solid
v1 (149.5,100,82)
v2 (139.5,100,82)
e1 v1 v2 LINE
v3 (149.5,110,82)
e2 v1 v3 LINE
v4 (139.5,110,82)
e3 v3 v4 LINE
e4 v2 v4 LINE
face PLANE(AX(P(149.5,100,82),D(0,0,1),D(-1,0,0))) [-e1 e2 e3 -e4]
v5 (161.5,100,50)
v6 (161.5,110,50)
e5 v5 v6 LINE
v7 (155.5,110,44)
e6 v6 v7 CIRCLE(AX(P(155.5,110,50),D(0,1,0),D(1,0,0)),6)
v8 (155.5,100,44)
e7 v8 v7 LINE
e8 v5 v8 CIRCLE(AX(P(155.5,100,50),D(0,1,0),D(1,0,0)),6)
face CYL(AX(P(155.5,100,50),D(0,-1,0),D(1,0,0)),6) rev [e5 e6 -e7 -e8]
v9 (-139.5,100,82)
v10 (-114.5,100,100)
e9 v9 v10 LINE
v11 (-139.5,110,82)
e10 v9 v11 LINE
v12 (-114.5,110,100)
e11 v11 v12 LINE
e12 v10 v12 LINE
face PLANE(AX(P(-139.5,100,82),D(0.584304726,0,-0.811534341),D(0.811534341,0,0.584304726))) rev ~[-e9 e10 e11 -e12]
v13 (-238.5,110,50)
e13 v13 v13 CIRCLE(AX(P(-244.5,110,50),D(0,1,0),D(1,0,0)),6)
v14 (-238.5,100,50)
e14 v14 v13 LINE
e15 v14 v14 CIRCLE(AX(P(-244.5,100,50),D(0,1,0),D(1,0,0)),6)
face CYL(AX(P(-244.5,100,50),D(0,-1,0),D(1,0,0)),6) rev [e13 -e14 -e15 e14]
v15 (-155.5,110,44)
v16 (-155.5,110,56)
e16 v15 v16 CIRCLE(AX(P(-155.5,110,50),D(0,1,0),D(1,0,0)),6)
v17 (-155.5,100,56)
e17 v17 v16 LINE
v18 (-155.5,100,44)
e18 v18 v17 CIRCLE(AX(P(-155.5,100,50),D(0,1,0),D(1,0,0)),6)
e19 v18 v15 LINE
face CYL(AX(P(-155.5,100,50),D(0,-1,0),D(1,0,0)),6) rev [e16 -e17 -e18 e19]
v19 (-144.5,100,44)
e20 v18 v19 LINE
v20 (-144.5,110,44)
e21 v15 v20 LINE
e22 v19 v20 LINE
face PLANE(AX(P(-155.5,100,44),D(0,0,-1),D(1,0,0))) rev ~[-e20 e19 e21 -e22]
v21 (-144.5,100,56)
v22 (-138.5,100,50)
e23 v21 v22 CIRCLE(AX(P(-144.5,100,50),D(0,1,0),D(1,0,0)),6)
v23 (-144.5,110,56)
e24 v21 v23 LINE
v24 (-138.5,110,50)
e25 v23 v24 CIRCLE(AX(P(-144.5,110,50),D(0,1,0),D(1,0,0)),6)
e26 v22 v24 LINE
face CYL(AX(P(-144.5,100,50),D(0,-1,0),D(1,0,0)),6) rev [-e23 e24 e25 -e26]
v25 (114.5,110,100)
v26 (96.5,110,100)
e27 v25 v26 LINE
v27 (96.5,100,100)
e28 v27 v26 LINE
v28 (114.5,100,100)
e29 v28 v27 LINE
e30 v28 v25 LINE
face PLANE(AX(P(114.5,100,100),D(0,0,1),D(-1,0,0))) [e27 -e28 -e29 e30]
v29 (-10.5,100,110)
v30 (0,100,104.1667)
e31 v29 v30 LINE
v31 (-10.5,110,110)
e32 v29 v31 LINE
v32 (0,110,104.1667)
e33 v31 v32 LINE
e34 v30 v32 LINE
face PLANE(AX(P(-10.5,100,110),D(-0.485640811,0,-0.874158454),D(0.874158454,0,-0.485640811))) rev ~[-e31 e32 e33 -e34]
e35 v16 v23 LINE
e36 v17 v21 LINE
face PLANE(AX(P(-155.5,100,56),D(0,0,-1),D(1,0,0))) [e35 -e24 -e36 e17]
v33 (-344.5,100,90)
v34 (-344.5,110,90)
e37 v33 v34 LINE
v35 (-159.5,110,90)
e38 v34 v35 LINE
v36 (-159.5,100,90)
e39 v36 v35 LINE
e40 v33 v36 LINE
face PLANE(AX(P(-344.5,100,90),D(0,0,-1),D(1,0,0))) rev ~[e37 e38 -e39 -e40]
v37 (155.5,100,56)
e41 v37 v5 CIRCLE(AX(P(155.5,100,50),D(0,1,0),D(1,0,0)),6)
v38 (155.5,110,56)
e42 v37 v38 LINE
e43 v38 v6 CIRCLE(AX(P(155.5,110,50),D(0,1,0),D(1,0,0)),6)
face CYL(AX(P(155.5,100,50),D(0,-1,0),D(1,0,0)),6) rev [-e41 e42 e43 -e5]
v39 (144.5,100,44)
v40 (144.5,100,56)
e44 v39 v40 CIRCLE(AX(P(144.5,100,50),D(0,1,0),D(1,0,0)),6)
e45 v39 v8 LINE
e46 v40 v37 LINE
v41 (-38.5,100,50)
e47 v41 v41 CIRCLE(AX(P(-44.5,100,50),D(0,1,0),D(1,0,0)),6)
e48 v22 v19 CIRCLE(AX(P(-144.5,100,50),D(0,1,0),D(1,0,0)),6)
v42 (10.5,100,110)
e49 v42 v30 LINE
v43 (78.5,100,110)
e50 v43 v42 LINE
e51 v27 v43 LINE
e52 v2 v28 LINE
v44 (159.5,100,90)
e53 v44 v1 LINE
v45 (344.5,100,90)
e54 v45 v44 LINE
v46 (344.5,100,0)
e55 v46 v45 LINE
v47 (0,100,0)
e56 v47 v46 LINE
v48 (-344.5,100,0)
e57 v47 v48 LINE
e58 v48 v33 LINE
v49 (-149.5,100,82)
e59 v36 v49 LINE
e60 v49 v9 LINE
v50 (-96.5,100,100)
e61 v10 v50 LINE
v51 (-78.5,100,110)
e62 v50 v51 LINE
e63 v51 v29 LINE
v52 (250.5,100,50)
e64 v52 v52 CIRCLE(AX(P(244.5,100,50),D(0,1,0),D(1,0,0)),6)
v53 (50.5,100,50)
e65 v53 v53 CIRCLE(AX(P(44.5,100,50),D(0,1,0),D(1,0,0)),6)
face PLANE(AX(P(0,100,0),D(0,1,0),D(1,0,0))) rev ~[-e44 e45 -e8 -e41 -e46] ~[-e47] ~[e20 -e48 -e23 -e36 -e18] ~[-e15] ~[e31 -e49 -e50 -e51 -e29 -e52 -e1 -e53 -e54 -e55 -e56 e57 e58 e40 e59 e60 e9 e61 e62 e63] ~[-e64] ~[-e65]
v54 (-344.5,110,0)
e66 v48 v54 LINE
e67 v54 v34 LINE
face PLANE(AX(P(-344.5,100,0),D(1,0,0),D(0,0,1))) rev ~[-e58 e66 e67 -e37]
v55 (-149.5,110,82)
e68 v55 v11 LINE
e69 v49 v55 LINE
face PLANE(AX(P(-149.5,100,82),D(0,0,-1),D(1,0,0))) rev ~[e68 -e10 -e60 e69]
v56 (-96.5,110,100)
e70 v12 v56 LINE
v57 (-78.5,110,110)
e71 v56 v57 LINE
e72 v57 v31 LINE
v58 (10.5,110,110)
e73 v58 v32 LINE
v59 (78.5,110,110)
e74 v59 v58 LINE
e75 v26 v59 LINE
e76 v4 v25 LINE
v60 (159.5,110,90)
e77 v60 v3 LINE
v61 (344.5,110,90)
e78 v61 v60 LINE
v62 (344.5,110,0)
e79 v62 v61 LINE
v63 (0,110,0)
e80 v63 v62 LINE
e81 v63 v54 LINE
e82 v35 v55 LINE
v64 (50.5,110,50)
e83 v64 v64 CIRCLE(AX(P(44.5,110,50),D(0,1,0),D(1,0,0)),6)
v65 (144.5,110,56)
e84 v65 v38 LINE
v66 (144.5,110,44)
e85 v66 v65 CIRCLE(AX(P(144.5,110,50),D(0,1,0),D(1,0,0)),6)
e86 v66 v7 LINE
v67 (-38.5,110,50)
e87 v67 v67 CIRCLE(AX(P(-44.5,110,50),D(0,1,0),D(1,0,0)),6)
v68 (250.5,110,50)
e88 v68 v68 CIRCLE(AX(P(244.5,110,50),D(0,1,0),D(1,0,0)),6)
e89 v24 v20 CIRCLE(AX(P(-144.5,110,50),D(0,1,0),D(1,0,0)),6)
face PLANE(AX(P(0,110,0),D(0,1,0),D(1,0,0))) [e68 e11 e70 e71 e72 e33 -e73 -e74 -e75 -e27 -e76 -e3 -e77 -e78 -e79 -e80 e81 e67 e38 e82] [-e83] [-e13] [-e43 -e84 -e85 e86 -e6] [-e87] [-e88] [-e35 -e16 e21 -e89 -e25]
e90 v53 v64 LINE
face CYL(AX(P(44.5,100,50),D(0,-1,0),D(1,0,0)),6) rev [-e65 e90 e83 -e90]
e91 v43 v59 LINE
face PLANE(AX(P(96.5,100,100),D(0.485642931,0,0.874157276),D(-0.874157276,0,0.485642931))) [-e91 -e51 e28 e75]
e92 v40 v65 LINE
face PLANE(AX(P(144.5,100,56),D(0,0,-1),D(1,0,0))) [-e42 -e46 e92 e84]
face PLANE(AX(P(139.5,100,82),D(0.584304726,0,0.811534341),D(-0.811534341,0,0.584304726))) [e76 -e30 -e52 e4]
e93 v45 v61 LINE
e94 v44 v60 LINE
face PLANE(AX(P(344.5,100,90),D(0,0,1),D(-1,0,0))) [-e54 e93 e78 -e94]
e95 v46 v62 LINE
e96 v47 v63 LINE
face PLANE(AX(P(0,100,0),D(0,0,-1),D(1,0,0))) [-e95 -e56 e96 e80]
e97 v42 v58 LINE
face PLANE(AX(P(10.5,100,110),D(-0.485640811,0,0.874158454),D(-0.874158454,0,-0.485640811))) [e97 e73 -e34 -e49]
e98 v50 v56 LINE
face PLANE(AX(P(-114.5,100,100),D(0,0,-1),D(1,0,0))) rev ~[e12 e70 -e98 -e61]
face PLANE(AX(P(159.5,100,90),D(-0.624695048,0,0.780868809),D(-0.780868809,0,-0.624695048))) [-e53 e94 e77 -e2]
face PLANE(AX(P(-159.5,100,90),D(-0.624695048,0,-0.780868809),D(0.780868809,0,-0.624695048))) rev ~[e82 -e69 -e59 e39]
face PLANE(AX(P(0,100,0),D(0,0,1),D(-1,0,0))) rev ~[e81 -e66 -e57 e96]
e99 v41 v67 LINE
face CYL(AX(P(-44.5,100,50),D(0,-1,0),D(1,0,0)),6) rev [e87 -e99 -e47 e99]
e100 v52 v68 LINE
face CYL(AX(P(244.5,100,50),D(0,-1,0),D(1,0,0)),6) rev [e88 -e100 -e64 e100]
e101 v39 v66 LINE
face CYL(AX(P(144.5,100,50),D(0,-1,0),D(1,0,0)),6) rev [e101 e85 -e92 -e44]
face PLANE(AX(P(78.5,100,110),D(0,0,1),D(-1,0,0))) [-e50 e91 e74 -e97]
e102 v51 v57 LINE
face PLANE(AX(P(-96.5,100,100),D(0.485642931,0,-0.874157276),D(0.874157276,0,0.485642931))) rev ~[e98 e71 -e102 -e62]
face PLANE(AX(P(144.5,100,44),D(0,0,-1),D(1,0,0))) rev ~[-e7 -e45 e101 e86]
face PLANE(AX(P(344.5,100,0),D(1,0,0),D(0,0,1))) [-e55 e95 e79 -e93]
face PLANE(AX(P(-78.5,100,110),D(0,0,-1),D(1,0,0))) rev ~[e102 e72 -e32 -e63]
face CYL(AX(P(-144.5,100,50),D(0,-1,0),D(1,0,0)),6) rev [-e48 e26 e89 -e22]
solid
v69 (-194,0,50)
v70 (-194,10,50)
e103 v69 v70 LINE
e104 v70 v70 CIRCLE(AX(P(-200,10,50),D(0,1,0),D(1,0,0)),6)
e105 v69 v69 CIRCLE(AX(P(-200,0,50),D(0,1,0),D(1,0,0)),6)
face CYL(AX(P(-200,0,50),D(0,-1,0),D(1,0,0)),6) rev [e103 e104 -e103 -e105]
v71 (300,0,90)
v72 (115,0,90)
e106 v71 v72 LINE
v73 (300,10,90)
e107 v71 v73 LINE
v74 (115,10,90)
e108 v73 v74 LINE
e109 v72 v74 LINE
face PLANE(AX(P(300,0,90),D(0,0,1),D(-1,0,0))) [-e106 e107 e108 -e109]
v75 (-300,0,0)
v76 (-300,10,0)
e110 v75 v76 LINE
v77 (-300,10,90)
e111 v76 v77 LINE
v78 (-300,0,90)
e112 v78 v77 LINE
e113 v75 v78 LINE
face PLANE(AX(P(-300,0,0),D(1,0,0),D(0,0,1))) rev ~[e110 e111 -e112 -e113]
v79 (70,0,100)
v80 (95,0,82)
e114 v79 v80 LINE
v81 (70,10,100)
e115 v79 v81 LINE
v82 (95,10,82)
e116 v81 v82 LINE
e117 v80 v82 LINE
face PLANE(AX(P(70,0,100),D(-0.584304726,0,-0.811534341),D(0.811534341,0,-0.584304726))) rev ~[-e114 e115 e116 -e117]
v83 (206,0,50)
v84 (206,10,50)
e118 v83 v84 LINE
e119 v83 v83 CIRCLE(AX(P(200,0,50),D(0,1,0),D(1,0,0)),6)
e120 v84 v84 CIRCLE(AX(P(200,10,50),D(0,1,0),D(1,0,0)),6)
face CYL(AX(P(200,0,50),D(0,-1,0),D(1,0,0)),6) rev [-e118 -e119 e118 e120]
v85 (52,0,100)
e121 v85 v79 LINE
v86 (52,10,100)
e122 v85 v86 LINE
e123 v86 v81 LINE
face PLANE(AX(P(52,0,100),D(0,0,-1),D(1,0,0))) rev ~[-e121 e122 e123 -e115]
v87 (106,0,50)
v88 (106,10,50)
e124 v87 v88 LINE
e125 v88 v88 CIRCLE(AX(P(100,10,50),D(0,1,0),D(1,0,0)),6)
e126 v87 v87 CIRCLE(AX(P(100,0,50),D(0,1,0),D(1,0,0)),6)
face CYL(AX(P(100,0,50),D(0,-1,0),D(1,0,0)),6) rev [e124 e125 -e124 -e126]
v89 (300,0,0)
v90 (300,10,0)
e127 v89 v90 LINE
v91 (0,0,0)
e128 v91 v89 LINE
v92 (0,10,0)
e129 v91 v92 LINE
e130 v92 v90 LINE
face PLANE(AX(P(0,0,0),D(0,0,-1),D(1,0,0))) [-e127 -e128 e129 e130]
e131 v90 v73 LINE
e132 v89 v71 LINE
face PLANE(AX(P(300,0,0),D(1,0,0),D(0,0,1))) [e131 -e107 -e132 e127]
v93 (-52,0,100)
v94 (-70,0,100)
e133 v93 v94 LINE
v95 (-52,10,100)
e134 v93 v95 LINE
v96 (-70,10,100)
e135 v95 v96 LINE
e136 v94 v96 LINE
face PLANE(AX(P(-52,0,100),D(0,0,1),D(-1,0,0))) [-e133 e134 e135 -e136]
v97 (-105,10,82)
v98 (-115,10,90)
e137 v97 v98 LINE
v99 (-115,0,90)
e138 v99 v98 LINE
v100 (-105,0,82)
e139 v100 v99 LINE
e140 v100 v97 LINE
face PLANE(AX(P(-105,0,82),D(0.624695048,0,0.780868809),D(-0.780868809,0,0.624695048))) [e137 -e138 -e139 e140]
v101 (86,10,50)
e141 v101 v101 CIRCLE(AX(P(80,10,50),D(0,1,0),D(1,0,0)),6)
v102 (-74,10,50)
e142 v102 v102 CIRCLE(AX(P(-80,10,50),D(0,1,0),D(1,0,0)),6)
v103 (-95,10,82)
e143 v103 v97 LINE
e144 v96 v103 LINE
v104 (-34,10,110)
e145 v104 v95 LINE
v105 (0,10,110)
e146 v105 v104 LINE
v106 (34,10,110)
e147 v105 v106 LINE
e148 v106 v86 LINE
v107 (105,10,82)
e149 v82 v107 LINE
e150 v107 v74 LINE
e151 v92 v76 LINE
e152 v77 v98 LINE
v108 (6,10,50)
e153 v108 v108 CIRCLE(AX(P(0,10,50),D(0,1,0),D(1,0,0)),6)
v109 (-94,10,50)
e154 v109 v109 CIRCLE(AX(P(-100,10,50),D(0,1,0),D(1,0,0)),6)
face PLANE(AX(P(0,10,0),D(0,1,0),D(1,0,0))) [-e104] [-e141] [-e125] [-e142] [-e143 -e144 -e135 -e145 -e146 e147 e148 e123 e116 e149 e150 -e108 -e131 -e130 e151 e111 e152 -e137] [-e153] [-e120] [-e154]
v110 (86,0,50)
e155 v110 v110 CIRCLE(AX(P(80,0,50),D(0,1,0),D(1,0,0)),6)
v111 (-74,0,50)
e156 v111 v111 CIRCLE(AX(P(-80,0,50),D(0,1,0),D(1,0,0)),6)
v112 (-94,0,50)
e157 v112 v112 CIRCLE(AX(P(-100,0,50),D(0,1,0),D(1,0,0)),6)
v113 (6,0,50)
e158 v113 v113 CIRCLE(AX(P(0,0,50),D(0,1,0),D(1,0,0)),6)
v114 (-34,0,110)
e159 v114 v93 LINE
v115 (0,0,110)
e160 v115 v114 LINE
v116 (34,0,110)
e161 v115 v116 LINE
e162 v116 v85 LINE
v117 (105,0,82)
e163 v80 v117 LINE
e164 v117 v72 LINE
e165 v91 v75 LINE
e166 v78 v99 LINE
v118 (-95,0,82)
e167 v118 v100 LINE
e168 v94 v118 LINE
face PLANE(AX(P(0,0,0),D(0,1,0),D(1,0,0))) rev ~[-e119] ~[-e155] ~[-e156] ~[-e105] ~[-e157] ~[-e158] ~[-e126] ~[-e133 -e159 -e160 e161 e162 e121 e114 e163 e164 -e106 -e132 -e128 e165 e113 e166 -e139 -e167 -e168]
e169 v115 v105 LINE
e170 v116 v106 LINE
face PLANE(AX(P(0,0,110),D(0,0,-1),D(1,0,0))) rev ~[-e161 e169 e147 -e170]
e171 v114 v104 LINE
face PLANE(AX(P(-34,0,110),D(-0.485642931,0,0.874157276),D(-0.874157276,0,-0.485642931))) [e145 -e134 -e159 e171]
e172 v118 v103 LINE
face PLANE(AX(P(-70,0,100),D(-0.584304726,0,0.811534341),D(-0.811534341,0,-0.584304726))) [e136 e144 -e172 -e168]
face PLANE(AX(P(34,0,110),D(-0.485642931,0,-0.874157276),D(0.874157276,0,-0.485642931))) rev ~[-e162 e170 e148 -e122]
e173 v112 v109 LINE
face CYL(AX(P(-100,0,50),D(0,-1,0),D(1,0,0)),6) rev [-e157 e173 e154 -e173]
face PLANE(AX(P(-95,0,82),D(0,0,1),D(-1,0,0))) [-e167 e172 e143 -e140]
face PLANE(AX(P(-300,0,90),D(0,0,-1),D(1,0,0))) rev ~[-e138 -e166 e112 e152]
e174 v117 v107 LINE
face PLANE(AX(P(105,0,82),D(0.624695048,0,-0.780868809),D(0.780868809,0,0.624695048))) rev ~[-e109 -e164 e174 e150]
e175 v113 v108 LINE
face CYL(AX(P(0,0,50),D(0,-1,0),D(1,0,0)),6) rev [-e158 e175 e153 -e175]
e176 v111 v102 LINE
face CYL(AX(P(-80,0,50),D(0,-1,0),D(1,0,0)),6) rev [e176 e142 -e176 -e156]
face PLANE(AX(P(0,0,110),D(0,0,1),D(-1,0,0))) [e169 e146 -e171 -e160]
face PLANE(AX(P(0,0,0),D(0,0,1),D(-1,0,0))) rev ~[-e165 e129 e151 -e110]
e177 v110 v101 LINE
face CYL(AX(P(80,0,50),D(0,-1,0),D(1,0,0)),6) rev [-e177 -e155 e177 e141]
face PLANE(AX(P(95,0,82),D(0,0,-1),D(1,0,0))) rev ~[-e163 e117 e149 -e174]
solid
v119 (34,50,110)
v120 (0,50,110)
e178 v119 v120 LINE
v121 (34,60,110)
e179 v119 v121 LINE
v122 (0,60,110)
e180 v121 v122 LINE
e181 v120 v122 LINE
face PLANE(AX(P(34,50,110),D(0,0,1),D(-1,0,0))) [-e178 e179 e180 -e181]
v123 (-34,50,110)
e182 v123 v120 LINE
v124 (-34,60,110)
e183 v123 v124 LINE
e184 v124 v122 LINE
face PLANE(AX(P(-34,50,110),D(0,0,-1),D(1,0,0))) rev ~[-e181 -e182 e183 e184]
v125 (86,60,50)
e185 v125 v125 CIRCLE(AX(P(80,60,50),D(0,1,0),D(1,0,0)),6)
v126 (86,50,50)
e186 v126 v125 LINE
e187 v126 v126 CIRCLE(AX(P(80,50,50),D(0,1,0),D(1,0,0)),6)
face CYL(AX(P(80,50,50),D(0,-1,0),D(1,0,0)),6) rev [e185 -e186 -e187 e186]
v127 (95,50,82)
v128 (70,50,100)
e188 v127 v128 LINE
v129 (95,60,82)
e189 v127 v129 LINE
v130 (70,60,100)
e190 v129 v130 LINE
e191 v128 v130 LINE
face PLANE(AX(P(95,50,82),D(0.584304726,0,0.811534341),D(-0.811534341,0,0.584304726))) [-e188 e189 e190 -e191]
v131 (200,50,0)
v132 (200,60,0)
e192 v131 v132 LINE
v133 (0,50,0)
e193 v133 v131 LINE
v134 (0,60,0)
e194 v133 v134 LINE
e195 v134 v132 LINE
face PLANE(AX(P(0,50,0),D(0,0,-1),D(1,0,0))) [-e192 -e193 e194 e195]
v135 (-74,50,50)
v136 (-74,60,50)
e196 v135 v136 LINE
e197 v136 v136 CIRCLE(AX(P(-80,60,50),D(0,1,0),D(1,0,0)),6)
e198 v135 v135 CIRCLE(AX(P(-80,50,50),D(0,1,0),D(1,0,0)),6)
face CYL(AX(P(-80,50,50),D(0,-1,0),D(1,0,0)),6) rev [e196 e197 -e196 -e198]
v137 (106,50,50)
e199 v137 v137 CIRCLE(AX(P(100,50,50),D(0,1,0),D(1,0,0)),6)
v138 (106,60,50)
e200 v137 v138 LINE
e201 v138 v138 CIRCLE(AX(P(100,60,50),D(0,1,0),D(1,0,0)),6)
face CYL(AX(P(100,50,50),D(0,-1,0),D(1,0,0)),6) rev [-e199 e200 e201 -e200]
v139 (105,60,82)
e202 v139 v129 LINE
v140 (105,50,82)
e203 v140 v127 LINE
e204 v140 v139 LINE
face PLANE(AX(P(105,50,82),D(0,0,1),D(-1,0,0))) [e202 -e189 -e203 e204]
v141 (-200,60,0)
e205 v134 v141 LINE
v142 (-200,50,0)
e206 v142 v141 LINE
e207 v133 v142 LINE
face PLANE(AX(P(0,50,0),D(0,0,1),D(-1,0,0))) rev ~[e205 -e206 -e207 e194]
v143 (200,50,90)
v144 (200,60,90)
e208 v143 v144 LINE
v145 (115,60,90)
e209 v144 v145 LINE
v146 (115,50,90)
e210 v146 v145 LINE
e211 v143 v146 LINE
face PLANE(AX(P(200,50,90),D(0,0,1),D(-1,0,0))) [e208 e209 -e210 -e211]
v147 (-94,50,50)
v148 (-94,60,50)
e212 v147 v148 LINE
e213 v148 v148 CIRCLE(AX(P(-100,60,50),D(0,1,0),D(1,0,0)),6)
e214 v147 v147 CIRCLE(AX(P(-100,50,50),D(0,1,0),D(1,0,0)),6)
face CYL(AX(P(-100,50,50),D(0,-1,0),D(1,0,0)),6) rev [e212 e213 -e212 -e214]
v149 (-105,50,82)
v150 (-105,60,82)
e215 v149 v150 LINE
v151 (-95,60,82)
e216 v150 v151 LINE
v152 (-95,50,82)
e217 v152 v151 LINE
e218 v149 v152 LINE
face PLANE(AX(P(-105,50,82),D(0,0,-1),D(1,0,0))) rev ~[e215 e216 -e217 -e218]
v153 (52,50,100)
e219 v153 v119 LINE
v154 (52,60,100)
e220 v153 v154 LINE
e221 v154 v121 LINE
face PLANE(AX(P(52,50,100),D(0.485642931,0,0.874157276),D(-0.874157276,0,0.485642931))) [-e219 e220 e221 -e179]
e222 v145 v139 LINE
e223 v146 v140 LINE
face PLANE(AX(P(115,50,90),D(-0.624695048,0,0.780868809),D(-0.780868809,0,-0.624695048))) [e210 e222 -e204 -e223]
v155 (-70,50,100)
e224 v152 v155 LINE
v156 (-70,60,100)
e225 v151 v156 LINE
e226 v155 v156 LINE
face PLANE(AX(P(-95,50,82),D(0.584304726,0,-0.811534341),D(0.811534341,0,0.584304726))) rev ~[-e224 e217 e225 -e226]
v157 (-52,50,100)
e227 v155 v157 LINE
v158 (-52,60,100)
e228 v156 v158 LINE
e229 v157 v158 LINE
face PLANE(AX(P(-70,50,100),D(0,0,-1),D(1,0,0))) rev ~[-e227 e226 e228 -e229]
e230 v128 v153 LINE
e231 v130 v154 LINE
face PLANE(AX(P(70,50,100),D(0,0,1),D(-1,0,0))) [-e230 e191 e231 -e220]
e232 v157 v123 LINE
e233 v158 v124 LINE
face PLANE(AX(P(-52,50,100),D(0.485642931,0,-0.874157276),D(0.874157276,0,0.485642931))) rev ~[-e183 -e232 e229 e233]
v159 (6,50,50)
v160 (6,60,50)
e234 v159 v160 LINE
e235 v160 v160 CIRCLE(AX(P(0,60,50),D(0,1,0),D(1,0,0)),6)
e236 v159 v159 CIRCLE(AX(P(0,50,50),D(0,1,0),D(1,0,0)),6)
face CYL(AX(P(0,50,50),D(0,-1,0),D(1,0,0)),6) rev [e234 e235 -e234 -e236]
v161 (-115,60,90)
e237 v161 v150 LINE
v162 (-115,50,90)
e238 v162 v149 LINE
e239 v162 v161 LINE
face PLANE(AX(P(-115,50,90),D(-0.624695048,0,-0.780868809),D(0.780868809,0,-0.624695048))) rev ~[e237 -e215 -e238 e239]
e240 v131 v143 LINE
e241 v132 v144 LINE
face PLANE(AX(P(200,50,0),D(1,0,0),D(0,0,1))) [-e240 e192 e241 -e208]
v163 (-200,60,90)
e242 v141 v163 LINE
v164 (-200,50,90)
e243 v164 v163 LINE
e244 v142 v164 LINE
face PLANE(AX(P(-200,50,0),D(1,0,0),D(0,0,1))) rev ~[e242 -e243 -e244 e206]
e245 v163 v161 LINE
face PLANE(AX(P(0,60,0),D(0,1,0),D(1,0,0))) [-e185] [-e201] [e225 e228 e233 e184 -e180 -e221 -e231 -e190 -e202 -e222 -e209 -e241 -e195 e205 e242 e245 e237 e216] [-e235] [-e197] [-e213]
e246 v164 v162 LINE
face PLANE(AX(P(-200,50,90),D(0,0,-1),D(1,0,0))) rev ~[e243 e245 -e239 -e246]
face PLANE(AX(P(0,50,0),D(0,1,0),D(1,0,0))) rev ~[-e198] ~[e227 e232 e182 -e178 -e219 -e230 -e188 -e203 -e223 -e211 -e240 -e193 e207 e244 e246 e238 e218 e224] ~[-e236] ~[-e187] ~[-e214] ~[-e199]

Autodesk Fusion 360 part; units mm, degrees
sketch "Skizze1" plane through (0, 0, 0) normal (0, 1, 0) x (1, 0, 0) in component "FREMO_600mm"
  line L0 (0, 0) -> (0, -110) construction
  line L1 (0, 0) -> (-300, 0)
  line L2 (-300, 0) -> (-300, -90)
  line L3 (-300, -90) -> (-115, -90)
  line L4 (0, -110) -> (-34, -110)
  line L5 (-34, -110) -> (-52, -100)
  line L6 (-52, -100) -> (-70, -100)
  line L7 (-70, -100) -> (-95, -82)
  line L8 (-95, -82) -> (-105, -82)
  line L9 (-105, -82) -> (-115, -90)
  line L10 (-300, -50) -> (0, -50) construction
  circle A0 centre (-100, -50) radius 6
  circle A1 centre (-80, -50) radius 6
  circle A2 centre (-200, -50) radius 6
  line L11 (0, -110) -> (34, -110)
  line L12 (34, -110) -> (52, -100)
  line L13 (52, -100) -> (70, -100)
  line L14 (70, -100) -> (95, -82)
  line L15 (95, -82) -> (105, -82)
  line L16 (105, -82) -> (115, -90)
  line L17 (300, -90) -> (115, -90)
  line L18 (300, 0) -> (300, -90)
  line L19 (0, 0) -> (300, 0)
  circle A3 centre (200, -50) radius 6
  circle A4 centre (100, -50) radius 6
  circle A5 centre (80, -50) radius 6
  circle A6 centre (0, -50) radius 6
  dimension "d13" = 34
  dimension "d14" = 18
  dimension "d15" = 18
  dimension "d16" = 10
  dimension "d17" = 25
  dimension "d18" = 10
  dimension "d19" = 10
  dimension "d20" = 100
  dimension "d21" = 90
  dimension "d22" = 8
  dimension "d23" = 300
  dimension "d24" = 12
  dimension "d25" = 12
  dimension "d26" = 12
  dimension "d27" = 50
  dimension "d28" = 80
  dimension "d29" = 100
  dimension "d30" = 200
  dimension "d31" = 12
extrude "Extrusion1" add sketch "Skizze1" along normal blind 10 makes body 1 in component "FREMO_600mm"
sketch "Skizze2" plane through (0, 0, 0) normal (0, 1, 0) x (1, 0, 0) in component "FREMO_400mm"
  line L0 (0, 0) -> (0, -110) construction
  line L1 (0, 0) -> (-200, 0)
  line L2 (-200, 0) -> (-200, -90)
  line L3 (-200, -90) -> (-115, -90)
  line L4 (-115, -90) -> (-105, -82)
  line L5 (-105, -82) -> (-95, -82)
  line L6 (-95, -82) -> (-70, -100)
  line L7 (-70, -100) -> (-52, -100)
  line L8 (-52, -100) -> (-34, -110)
  line L9 (-34, -110) -> (0, -110)
  line L10 (-200, -50) -> (0, -50) construction
  circle A0 centre (-100, -50) radius 6
  circle A1 centre (-80, -50) radius 6
  line L11 (34, -110) -> (0, -110)
  line L12 (52, -100) -> (34, -110)
  line L13 (70, -100) -> (52, -100)
  line L14 (95, -82) -> (70, -100)
  line L15 (105, -82) -> (95, -82)
  line L16 (115, -90) -> (105, -82)
  line L17 (200, -90) -> (115, -90)
  line L18 (200, 0) -> (200, -90)
  line L19 (0, 0) -> (200, 0)
  circle A2 centre (100, -50) radius 6
  circle A3 centre (80, -50) radius 6
  circle A4 centre (0, -50) radius 6
  dimension "d52" = 34
  dimension "d53" = 18
  dimension "d54" = 18
  dimension "d55" = 25
  dimension "d56" = 10
  dimension "d57" = 10
  dimension "d58" = 10
  dimension "d59" = 100
  dimension "d60" = 90
  dimension "d61" = 8
  dimension "d62" = 200
  dimension "d63" = 50
  dimension "d64" = 12
  dimension "d65" = 12
  dimension "d66" = 80
  dimension "d67" = 100
  dimension "d68" = 12
extrude "Extrusion2" add sketch "Skizze2" along normal blind 10 separate body makes body 2 in component "FREMO_400mm"
sketch "Skizze1 (2)" plane through (0, 0, 0) normal (0, 1, 0) x (1, 0, 0) in component "FREMO_Entwurf_2_Gleisig_689mm"
  line L0 (0, 0) -> (0, -104.1667) construction
  line L1 (0, 0) -> (-344.5, 0)
  line L2 (-344.5, 0) -> (-344.5, -90)
  line L3 (-344.5, -90) -> (-159.5, -90)
  line L4 (-159.5, -90) -> (-149.5, -82)
  line L5 (-149.5, -82) -> (-139.5, -82)
  line L6 (-139.5, -82) -> (-114.5, -100)
  line L7 (-114.5, -100) -> (-96.5, -100)
  line L8 (-96.5, -100) -> (-78.5, -110)
  line L9 (-78.5, -110) -> (-10.5, -110)
  line L10 (-44.5, -110) -> (-44.5, 0) construction
  line L11 (-44.5, -50) -> (-344.5, -50) construction
  circle A0 centre (-44.5, -50) radius 6
  circle A1 centre (-144.5, -50) radius 6
  circle A2 centre (-244.5, -50) radius 6
  line L12 (-96.5, -100) -> (7.5, -100) construction
  line L13 (-10.5, -110) -> (0, -104.1667)
  line L14 (0, -104.1667) -> (7.5, -100) construction
  line L15 (10.5, -110) -> (0, -104.1667)
  line L16 (78.5, -110) -> (10.5, -110)
  line L17 (96.5, -100) -> (78.5, -110)
  line L18 (114.5, -100) -> (96.5, -100)
  line L19 (139.5, -82) -> (114.5, -100)
  line L20 (149.5, -82) -> (139.5, -82)
  line L21 (159.5, -90) -> (149.5, -82)
  line L22 (344.5, -90) -> (159.5, -90)
  line L23 (344.5, 0) -> (344.5, -90)
  line L24 (0, 0) -> (344.5, 0)
  line L25 (44.5, -50) -> (344.5, -50) construction
  circle A3 centre (244.5, -50) radius 6
  circle A4 centre (144.5, -50) radius 6
  circle A5 centre (44.5, -50) radius 6
  line L26 (44.5, -110) -> (44.5, 0) construction
  circle A6 centre (-155.5, -50) radius 6
  circle A7 centre (155.5, -50) radius 6
  line L27 (-155.5, -56) -> (-144.5, -56)
  line L28 (-155.5, -44) -> (-144.5, -44)
  line L29 (144.5, -56) -> (155.5, -56)
  line L30 (144.5, -44) -> (155.5, -44)
  dimension "d71" = 68
  dimension "d72" = 18
  dimension "d73" = 18
  dimension "d74" = 25
  dimension "d75" = 10
  dimension "d76" = 10
  dimension "d77" = 8
  dimension "d78" = 10
  dimension "d79" = 100
  dimension "d80" = 90
  dimension "d81" = 44.5
  dimension "d82" = 300
  dimension "d83" = 12
  dimension "d84" = 12
  dimension "d85" = 12
  dimension "d86" = 100
  dimension "d87" = 200
  dimension "d88" = 50
  dimension "d90" = 18
  dimension "d91" = 12
  dimension "d92" = 12
  dimension "d93" = 200
  dimension "d94" = 200
extrude "Extrusion1'" add sketch "Skizze1 (2)" along normal blind 10 separate body makes body 3 in component "FREMO_Entwurf_2_Gleisig_689mm"
component "FREMO_600mm" placed x (1, 0, 0) y (0, 1, 0) z (0, 0, 1) at (0, 0, 0)
component "FREMO_400mm" placed x (1, 0, 0) y (0, 1, 0) z (0, 0, 1) at (0, 50, 0)
component "FREMO_Entwurf_2_Gleisig_689mm" placed x (1, 0, 0) y (0, 1, 0) z (0, 0, 1) at (0, 100, 0)
equation "d81 = ( 89 / 2 ) * 1 mm"
